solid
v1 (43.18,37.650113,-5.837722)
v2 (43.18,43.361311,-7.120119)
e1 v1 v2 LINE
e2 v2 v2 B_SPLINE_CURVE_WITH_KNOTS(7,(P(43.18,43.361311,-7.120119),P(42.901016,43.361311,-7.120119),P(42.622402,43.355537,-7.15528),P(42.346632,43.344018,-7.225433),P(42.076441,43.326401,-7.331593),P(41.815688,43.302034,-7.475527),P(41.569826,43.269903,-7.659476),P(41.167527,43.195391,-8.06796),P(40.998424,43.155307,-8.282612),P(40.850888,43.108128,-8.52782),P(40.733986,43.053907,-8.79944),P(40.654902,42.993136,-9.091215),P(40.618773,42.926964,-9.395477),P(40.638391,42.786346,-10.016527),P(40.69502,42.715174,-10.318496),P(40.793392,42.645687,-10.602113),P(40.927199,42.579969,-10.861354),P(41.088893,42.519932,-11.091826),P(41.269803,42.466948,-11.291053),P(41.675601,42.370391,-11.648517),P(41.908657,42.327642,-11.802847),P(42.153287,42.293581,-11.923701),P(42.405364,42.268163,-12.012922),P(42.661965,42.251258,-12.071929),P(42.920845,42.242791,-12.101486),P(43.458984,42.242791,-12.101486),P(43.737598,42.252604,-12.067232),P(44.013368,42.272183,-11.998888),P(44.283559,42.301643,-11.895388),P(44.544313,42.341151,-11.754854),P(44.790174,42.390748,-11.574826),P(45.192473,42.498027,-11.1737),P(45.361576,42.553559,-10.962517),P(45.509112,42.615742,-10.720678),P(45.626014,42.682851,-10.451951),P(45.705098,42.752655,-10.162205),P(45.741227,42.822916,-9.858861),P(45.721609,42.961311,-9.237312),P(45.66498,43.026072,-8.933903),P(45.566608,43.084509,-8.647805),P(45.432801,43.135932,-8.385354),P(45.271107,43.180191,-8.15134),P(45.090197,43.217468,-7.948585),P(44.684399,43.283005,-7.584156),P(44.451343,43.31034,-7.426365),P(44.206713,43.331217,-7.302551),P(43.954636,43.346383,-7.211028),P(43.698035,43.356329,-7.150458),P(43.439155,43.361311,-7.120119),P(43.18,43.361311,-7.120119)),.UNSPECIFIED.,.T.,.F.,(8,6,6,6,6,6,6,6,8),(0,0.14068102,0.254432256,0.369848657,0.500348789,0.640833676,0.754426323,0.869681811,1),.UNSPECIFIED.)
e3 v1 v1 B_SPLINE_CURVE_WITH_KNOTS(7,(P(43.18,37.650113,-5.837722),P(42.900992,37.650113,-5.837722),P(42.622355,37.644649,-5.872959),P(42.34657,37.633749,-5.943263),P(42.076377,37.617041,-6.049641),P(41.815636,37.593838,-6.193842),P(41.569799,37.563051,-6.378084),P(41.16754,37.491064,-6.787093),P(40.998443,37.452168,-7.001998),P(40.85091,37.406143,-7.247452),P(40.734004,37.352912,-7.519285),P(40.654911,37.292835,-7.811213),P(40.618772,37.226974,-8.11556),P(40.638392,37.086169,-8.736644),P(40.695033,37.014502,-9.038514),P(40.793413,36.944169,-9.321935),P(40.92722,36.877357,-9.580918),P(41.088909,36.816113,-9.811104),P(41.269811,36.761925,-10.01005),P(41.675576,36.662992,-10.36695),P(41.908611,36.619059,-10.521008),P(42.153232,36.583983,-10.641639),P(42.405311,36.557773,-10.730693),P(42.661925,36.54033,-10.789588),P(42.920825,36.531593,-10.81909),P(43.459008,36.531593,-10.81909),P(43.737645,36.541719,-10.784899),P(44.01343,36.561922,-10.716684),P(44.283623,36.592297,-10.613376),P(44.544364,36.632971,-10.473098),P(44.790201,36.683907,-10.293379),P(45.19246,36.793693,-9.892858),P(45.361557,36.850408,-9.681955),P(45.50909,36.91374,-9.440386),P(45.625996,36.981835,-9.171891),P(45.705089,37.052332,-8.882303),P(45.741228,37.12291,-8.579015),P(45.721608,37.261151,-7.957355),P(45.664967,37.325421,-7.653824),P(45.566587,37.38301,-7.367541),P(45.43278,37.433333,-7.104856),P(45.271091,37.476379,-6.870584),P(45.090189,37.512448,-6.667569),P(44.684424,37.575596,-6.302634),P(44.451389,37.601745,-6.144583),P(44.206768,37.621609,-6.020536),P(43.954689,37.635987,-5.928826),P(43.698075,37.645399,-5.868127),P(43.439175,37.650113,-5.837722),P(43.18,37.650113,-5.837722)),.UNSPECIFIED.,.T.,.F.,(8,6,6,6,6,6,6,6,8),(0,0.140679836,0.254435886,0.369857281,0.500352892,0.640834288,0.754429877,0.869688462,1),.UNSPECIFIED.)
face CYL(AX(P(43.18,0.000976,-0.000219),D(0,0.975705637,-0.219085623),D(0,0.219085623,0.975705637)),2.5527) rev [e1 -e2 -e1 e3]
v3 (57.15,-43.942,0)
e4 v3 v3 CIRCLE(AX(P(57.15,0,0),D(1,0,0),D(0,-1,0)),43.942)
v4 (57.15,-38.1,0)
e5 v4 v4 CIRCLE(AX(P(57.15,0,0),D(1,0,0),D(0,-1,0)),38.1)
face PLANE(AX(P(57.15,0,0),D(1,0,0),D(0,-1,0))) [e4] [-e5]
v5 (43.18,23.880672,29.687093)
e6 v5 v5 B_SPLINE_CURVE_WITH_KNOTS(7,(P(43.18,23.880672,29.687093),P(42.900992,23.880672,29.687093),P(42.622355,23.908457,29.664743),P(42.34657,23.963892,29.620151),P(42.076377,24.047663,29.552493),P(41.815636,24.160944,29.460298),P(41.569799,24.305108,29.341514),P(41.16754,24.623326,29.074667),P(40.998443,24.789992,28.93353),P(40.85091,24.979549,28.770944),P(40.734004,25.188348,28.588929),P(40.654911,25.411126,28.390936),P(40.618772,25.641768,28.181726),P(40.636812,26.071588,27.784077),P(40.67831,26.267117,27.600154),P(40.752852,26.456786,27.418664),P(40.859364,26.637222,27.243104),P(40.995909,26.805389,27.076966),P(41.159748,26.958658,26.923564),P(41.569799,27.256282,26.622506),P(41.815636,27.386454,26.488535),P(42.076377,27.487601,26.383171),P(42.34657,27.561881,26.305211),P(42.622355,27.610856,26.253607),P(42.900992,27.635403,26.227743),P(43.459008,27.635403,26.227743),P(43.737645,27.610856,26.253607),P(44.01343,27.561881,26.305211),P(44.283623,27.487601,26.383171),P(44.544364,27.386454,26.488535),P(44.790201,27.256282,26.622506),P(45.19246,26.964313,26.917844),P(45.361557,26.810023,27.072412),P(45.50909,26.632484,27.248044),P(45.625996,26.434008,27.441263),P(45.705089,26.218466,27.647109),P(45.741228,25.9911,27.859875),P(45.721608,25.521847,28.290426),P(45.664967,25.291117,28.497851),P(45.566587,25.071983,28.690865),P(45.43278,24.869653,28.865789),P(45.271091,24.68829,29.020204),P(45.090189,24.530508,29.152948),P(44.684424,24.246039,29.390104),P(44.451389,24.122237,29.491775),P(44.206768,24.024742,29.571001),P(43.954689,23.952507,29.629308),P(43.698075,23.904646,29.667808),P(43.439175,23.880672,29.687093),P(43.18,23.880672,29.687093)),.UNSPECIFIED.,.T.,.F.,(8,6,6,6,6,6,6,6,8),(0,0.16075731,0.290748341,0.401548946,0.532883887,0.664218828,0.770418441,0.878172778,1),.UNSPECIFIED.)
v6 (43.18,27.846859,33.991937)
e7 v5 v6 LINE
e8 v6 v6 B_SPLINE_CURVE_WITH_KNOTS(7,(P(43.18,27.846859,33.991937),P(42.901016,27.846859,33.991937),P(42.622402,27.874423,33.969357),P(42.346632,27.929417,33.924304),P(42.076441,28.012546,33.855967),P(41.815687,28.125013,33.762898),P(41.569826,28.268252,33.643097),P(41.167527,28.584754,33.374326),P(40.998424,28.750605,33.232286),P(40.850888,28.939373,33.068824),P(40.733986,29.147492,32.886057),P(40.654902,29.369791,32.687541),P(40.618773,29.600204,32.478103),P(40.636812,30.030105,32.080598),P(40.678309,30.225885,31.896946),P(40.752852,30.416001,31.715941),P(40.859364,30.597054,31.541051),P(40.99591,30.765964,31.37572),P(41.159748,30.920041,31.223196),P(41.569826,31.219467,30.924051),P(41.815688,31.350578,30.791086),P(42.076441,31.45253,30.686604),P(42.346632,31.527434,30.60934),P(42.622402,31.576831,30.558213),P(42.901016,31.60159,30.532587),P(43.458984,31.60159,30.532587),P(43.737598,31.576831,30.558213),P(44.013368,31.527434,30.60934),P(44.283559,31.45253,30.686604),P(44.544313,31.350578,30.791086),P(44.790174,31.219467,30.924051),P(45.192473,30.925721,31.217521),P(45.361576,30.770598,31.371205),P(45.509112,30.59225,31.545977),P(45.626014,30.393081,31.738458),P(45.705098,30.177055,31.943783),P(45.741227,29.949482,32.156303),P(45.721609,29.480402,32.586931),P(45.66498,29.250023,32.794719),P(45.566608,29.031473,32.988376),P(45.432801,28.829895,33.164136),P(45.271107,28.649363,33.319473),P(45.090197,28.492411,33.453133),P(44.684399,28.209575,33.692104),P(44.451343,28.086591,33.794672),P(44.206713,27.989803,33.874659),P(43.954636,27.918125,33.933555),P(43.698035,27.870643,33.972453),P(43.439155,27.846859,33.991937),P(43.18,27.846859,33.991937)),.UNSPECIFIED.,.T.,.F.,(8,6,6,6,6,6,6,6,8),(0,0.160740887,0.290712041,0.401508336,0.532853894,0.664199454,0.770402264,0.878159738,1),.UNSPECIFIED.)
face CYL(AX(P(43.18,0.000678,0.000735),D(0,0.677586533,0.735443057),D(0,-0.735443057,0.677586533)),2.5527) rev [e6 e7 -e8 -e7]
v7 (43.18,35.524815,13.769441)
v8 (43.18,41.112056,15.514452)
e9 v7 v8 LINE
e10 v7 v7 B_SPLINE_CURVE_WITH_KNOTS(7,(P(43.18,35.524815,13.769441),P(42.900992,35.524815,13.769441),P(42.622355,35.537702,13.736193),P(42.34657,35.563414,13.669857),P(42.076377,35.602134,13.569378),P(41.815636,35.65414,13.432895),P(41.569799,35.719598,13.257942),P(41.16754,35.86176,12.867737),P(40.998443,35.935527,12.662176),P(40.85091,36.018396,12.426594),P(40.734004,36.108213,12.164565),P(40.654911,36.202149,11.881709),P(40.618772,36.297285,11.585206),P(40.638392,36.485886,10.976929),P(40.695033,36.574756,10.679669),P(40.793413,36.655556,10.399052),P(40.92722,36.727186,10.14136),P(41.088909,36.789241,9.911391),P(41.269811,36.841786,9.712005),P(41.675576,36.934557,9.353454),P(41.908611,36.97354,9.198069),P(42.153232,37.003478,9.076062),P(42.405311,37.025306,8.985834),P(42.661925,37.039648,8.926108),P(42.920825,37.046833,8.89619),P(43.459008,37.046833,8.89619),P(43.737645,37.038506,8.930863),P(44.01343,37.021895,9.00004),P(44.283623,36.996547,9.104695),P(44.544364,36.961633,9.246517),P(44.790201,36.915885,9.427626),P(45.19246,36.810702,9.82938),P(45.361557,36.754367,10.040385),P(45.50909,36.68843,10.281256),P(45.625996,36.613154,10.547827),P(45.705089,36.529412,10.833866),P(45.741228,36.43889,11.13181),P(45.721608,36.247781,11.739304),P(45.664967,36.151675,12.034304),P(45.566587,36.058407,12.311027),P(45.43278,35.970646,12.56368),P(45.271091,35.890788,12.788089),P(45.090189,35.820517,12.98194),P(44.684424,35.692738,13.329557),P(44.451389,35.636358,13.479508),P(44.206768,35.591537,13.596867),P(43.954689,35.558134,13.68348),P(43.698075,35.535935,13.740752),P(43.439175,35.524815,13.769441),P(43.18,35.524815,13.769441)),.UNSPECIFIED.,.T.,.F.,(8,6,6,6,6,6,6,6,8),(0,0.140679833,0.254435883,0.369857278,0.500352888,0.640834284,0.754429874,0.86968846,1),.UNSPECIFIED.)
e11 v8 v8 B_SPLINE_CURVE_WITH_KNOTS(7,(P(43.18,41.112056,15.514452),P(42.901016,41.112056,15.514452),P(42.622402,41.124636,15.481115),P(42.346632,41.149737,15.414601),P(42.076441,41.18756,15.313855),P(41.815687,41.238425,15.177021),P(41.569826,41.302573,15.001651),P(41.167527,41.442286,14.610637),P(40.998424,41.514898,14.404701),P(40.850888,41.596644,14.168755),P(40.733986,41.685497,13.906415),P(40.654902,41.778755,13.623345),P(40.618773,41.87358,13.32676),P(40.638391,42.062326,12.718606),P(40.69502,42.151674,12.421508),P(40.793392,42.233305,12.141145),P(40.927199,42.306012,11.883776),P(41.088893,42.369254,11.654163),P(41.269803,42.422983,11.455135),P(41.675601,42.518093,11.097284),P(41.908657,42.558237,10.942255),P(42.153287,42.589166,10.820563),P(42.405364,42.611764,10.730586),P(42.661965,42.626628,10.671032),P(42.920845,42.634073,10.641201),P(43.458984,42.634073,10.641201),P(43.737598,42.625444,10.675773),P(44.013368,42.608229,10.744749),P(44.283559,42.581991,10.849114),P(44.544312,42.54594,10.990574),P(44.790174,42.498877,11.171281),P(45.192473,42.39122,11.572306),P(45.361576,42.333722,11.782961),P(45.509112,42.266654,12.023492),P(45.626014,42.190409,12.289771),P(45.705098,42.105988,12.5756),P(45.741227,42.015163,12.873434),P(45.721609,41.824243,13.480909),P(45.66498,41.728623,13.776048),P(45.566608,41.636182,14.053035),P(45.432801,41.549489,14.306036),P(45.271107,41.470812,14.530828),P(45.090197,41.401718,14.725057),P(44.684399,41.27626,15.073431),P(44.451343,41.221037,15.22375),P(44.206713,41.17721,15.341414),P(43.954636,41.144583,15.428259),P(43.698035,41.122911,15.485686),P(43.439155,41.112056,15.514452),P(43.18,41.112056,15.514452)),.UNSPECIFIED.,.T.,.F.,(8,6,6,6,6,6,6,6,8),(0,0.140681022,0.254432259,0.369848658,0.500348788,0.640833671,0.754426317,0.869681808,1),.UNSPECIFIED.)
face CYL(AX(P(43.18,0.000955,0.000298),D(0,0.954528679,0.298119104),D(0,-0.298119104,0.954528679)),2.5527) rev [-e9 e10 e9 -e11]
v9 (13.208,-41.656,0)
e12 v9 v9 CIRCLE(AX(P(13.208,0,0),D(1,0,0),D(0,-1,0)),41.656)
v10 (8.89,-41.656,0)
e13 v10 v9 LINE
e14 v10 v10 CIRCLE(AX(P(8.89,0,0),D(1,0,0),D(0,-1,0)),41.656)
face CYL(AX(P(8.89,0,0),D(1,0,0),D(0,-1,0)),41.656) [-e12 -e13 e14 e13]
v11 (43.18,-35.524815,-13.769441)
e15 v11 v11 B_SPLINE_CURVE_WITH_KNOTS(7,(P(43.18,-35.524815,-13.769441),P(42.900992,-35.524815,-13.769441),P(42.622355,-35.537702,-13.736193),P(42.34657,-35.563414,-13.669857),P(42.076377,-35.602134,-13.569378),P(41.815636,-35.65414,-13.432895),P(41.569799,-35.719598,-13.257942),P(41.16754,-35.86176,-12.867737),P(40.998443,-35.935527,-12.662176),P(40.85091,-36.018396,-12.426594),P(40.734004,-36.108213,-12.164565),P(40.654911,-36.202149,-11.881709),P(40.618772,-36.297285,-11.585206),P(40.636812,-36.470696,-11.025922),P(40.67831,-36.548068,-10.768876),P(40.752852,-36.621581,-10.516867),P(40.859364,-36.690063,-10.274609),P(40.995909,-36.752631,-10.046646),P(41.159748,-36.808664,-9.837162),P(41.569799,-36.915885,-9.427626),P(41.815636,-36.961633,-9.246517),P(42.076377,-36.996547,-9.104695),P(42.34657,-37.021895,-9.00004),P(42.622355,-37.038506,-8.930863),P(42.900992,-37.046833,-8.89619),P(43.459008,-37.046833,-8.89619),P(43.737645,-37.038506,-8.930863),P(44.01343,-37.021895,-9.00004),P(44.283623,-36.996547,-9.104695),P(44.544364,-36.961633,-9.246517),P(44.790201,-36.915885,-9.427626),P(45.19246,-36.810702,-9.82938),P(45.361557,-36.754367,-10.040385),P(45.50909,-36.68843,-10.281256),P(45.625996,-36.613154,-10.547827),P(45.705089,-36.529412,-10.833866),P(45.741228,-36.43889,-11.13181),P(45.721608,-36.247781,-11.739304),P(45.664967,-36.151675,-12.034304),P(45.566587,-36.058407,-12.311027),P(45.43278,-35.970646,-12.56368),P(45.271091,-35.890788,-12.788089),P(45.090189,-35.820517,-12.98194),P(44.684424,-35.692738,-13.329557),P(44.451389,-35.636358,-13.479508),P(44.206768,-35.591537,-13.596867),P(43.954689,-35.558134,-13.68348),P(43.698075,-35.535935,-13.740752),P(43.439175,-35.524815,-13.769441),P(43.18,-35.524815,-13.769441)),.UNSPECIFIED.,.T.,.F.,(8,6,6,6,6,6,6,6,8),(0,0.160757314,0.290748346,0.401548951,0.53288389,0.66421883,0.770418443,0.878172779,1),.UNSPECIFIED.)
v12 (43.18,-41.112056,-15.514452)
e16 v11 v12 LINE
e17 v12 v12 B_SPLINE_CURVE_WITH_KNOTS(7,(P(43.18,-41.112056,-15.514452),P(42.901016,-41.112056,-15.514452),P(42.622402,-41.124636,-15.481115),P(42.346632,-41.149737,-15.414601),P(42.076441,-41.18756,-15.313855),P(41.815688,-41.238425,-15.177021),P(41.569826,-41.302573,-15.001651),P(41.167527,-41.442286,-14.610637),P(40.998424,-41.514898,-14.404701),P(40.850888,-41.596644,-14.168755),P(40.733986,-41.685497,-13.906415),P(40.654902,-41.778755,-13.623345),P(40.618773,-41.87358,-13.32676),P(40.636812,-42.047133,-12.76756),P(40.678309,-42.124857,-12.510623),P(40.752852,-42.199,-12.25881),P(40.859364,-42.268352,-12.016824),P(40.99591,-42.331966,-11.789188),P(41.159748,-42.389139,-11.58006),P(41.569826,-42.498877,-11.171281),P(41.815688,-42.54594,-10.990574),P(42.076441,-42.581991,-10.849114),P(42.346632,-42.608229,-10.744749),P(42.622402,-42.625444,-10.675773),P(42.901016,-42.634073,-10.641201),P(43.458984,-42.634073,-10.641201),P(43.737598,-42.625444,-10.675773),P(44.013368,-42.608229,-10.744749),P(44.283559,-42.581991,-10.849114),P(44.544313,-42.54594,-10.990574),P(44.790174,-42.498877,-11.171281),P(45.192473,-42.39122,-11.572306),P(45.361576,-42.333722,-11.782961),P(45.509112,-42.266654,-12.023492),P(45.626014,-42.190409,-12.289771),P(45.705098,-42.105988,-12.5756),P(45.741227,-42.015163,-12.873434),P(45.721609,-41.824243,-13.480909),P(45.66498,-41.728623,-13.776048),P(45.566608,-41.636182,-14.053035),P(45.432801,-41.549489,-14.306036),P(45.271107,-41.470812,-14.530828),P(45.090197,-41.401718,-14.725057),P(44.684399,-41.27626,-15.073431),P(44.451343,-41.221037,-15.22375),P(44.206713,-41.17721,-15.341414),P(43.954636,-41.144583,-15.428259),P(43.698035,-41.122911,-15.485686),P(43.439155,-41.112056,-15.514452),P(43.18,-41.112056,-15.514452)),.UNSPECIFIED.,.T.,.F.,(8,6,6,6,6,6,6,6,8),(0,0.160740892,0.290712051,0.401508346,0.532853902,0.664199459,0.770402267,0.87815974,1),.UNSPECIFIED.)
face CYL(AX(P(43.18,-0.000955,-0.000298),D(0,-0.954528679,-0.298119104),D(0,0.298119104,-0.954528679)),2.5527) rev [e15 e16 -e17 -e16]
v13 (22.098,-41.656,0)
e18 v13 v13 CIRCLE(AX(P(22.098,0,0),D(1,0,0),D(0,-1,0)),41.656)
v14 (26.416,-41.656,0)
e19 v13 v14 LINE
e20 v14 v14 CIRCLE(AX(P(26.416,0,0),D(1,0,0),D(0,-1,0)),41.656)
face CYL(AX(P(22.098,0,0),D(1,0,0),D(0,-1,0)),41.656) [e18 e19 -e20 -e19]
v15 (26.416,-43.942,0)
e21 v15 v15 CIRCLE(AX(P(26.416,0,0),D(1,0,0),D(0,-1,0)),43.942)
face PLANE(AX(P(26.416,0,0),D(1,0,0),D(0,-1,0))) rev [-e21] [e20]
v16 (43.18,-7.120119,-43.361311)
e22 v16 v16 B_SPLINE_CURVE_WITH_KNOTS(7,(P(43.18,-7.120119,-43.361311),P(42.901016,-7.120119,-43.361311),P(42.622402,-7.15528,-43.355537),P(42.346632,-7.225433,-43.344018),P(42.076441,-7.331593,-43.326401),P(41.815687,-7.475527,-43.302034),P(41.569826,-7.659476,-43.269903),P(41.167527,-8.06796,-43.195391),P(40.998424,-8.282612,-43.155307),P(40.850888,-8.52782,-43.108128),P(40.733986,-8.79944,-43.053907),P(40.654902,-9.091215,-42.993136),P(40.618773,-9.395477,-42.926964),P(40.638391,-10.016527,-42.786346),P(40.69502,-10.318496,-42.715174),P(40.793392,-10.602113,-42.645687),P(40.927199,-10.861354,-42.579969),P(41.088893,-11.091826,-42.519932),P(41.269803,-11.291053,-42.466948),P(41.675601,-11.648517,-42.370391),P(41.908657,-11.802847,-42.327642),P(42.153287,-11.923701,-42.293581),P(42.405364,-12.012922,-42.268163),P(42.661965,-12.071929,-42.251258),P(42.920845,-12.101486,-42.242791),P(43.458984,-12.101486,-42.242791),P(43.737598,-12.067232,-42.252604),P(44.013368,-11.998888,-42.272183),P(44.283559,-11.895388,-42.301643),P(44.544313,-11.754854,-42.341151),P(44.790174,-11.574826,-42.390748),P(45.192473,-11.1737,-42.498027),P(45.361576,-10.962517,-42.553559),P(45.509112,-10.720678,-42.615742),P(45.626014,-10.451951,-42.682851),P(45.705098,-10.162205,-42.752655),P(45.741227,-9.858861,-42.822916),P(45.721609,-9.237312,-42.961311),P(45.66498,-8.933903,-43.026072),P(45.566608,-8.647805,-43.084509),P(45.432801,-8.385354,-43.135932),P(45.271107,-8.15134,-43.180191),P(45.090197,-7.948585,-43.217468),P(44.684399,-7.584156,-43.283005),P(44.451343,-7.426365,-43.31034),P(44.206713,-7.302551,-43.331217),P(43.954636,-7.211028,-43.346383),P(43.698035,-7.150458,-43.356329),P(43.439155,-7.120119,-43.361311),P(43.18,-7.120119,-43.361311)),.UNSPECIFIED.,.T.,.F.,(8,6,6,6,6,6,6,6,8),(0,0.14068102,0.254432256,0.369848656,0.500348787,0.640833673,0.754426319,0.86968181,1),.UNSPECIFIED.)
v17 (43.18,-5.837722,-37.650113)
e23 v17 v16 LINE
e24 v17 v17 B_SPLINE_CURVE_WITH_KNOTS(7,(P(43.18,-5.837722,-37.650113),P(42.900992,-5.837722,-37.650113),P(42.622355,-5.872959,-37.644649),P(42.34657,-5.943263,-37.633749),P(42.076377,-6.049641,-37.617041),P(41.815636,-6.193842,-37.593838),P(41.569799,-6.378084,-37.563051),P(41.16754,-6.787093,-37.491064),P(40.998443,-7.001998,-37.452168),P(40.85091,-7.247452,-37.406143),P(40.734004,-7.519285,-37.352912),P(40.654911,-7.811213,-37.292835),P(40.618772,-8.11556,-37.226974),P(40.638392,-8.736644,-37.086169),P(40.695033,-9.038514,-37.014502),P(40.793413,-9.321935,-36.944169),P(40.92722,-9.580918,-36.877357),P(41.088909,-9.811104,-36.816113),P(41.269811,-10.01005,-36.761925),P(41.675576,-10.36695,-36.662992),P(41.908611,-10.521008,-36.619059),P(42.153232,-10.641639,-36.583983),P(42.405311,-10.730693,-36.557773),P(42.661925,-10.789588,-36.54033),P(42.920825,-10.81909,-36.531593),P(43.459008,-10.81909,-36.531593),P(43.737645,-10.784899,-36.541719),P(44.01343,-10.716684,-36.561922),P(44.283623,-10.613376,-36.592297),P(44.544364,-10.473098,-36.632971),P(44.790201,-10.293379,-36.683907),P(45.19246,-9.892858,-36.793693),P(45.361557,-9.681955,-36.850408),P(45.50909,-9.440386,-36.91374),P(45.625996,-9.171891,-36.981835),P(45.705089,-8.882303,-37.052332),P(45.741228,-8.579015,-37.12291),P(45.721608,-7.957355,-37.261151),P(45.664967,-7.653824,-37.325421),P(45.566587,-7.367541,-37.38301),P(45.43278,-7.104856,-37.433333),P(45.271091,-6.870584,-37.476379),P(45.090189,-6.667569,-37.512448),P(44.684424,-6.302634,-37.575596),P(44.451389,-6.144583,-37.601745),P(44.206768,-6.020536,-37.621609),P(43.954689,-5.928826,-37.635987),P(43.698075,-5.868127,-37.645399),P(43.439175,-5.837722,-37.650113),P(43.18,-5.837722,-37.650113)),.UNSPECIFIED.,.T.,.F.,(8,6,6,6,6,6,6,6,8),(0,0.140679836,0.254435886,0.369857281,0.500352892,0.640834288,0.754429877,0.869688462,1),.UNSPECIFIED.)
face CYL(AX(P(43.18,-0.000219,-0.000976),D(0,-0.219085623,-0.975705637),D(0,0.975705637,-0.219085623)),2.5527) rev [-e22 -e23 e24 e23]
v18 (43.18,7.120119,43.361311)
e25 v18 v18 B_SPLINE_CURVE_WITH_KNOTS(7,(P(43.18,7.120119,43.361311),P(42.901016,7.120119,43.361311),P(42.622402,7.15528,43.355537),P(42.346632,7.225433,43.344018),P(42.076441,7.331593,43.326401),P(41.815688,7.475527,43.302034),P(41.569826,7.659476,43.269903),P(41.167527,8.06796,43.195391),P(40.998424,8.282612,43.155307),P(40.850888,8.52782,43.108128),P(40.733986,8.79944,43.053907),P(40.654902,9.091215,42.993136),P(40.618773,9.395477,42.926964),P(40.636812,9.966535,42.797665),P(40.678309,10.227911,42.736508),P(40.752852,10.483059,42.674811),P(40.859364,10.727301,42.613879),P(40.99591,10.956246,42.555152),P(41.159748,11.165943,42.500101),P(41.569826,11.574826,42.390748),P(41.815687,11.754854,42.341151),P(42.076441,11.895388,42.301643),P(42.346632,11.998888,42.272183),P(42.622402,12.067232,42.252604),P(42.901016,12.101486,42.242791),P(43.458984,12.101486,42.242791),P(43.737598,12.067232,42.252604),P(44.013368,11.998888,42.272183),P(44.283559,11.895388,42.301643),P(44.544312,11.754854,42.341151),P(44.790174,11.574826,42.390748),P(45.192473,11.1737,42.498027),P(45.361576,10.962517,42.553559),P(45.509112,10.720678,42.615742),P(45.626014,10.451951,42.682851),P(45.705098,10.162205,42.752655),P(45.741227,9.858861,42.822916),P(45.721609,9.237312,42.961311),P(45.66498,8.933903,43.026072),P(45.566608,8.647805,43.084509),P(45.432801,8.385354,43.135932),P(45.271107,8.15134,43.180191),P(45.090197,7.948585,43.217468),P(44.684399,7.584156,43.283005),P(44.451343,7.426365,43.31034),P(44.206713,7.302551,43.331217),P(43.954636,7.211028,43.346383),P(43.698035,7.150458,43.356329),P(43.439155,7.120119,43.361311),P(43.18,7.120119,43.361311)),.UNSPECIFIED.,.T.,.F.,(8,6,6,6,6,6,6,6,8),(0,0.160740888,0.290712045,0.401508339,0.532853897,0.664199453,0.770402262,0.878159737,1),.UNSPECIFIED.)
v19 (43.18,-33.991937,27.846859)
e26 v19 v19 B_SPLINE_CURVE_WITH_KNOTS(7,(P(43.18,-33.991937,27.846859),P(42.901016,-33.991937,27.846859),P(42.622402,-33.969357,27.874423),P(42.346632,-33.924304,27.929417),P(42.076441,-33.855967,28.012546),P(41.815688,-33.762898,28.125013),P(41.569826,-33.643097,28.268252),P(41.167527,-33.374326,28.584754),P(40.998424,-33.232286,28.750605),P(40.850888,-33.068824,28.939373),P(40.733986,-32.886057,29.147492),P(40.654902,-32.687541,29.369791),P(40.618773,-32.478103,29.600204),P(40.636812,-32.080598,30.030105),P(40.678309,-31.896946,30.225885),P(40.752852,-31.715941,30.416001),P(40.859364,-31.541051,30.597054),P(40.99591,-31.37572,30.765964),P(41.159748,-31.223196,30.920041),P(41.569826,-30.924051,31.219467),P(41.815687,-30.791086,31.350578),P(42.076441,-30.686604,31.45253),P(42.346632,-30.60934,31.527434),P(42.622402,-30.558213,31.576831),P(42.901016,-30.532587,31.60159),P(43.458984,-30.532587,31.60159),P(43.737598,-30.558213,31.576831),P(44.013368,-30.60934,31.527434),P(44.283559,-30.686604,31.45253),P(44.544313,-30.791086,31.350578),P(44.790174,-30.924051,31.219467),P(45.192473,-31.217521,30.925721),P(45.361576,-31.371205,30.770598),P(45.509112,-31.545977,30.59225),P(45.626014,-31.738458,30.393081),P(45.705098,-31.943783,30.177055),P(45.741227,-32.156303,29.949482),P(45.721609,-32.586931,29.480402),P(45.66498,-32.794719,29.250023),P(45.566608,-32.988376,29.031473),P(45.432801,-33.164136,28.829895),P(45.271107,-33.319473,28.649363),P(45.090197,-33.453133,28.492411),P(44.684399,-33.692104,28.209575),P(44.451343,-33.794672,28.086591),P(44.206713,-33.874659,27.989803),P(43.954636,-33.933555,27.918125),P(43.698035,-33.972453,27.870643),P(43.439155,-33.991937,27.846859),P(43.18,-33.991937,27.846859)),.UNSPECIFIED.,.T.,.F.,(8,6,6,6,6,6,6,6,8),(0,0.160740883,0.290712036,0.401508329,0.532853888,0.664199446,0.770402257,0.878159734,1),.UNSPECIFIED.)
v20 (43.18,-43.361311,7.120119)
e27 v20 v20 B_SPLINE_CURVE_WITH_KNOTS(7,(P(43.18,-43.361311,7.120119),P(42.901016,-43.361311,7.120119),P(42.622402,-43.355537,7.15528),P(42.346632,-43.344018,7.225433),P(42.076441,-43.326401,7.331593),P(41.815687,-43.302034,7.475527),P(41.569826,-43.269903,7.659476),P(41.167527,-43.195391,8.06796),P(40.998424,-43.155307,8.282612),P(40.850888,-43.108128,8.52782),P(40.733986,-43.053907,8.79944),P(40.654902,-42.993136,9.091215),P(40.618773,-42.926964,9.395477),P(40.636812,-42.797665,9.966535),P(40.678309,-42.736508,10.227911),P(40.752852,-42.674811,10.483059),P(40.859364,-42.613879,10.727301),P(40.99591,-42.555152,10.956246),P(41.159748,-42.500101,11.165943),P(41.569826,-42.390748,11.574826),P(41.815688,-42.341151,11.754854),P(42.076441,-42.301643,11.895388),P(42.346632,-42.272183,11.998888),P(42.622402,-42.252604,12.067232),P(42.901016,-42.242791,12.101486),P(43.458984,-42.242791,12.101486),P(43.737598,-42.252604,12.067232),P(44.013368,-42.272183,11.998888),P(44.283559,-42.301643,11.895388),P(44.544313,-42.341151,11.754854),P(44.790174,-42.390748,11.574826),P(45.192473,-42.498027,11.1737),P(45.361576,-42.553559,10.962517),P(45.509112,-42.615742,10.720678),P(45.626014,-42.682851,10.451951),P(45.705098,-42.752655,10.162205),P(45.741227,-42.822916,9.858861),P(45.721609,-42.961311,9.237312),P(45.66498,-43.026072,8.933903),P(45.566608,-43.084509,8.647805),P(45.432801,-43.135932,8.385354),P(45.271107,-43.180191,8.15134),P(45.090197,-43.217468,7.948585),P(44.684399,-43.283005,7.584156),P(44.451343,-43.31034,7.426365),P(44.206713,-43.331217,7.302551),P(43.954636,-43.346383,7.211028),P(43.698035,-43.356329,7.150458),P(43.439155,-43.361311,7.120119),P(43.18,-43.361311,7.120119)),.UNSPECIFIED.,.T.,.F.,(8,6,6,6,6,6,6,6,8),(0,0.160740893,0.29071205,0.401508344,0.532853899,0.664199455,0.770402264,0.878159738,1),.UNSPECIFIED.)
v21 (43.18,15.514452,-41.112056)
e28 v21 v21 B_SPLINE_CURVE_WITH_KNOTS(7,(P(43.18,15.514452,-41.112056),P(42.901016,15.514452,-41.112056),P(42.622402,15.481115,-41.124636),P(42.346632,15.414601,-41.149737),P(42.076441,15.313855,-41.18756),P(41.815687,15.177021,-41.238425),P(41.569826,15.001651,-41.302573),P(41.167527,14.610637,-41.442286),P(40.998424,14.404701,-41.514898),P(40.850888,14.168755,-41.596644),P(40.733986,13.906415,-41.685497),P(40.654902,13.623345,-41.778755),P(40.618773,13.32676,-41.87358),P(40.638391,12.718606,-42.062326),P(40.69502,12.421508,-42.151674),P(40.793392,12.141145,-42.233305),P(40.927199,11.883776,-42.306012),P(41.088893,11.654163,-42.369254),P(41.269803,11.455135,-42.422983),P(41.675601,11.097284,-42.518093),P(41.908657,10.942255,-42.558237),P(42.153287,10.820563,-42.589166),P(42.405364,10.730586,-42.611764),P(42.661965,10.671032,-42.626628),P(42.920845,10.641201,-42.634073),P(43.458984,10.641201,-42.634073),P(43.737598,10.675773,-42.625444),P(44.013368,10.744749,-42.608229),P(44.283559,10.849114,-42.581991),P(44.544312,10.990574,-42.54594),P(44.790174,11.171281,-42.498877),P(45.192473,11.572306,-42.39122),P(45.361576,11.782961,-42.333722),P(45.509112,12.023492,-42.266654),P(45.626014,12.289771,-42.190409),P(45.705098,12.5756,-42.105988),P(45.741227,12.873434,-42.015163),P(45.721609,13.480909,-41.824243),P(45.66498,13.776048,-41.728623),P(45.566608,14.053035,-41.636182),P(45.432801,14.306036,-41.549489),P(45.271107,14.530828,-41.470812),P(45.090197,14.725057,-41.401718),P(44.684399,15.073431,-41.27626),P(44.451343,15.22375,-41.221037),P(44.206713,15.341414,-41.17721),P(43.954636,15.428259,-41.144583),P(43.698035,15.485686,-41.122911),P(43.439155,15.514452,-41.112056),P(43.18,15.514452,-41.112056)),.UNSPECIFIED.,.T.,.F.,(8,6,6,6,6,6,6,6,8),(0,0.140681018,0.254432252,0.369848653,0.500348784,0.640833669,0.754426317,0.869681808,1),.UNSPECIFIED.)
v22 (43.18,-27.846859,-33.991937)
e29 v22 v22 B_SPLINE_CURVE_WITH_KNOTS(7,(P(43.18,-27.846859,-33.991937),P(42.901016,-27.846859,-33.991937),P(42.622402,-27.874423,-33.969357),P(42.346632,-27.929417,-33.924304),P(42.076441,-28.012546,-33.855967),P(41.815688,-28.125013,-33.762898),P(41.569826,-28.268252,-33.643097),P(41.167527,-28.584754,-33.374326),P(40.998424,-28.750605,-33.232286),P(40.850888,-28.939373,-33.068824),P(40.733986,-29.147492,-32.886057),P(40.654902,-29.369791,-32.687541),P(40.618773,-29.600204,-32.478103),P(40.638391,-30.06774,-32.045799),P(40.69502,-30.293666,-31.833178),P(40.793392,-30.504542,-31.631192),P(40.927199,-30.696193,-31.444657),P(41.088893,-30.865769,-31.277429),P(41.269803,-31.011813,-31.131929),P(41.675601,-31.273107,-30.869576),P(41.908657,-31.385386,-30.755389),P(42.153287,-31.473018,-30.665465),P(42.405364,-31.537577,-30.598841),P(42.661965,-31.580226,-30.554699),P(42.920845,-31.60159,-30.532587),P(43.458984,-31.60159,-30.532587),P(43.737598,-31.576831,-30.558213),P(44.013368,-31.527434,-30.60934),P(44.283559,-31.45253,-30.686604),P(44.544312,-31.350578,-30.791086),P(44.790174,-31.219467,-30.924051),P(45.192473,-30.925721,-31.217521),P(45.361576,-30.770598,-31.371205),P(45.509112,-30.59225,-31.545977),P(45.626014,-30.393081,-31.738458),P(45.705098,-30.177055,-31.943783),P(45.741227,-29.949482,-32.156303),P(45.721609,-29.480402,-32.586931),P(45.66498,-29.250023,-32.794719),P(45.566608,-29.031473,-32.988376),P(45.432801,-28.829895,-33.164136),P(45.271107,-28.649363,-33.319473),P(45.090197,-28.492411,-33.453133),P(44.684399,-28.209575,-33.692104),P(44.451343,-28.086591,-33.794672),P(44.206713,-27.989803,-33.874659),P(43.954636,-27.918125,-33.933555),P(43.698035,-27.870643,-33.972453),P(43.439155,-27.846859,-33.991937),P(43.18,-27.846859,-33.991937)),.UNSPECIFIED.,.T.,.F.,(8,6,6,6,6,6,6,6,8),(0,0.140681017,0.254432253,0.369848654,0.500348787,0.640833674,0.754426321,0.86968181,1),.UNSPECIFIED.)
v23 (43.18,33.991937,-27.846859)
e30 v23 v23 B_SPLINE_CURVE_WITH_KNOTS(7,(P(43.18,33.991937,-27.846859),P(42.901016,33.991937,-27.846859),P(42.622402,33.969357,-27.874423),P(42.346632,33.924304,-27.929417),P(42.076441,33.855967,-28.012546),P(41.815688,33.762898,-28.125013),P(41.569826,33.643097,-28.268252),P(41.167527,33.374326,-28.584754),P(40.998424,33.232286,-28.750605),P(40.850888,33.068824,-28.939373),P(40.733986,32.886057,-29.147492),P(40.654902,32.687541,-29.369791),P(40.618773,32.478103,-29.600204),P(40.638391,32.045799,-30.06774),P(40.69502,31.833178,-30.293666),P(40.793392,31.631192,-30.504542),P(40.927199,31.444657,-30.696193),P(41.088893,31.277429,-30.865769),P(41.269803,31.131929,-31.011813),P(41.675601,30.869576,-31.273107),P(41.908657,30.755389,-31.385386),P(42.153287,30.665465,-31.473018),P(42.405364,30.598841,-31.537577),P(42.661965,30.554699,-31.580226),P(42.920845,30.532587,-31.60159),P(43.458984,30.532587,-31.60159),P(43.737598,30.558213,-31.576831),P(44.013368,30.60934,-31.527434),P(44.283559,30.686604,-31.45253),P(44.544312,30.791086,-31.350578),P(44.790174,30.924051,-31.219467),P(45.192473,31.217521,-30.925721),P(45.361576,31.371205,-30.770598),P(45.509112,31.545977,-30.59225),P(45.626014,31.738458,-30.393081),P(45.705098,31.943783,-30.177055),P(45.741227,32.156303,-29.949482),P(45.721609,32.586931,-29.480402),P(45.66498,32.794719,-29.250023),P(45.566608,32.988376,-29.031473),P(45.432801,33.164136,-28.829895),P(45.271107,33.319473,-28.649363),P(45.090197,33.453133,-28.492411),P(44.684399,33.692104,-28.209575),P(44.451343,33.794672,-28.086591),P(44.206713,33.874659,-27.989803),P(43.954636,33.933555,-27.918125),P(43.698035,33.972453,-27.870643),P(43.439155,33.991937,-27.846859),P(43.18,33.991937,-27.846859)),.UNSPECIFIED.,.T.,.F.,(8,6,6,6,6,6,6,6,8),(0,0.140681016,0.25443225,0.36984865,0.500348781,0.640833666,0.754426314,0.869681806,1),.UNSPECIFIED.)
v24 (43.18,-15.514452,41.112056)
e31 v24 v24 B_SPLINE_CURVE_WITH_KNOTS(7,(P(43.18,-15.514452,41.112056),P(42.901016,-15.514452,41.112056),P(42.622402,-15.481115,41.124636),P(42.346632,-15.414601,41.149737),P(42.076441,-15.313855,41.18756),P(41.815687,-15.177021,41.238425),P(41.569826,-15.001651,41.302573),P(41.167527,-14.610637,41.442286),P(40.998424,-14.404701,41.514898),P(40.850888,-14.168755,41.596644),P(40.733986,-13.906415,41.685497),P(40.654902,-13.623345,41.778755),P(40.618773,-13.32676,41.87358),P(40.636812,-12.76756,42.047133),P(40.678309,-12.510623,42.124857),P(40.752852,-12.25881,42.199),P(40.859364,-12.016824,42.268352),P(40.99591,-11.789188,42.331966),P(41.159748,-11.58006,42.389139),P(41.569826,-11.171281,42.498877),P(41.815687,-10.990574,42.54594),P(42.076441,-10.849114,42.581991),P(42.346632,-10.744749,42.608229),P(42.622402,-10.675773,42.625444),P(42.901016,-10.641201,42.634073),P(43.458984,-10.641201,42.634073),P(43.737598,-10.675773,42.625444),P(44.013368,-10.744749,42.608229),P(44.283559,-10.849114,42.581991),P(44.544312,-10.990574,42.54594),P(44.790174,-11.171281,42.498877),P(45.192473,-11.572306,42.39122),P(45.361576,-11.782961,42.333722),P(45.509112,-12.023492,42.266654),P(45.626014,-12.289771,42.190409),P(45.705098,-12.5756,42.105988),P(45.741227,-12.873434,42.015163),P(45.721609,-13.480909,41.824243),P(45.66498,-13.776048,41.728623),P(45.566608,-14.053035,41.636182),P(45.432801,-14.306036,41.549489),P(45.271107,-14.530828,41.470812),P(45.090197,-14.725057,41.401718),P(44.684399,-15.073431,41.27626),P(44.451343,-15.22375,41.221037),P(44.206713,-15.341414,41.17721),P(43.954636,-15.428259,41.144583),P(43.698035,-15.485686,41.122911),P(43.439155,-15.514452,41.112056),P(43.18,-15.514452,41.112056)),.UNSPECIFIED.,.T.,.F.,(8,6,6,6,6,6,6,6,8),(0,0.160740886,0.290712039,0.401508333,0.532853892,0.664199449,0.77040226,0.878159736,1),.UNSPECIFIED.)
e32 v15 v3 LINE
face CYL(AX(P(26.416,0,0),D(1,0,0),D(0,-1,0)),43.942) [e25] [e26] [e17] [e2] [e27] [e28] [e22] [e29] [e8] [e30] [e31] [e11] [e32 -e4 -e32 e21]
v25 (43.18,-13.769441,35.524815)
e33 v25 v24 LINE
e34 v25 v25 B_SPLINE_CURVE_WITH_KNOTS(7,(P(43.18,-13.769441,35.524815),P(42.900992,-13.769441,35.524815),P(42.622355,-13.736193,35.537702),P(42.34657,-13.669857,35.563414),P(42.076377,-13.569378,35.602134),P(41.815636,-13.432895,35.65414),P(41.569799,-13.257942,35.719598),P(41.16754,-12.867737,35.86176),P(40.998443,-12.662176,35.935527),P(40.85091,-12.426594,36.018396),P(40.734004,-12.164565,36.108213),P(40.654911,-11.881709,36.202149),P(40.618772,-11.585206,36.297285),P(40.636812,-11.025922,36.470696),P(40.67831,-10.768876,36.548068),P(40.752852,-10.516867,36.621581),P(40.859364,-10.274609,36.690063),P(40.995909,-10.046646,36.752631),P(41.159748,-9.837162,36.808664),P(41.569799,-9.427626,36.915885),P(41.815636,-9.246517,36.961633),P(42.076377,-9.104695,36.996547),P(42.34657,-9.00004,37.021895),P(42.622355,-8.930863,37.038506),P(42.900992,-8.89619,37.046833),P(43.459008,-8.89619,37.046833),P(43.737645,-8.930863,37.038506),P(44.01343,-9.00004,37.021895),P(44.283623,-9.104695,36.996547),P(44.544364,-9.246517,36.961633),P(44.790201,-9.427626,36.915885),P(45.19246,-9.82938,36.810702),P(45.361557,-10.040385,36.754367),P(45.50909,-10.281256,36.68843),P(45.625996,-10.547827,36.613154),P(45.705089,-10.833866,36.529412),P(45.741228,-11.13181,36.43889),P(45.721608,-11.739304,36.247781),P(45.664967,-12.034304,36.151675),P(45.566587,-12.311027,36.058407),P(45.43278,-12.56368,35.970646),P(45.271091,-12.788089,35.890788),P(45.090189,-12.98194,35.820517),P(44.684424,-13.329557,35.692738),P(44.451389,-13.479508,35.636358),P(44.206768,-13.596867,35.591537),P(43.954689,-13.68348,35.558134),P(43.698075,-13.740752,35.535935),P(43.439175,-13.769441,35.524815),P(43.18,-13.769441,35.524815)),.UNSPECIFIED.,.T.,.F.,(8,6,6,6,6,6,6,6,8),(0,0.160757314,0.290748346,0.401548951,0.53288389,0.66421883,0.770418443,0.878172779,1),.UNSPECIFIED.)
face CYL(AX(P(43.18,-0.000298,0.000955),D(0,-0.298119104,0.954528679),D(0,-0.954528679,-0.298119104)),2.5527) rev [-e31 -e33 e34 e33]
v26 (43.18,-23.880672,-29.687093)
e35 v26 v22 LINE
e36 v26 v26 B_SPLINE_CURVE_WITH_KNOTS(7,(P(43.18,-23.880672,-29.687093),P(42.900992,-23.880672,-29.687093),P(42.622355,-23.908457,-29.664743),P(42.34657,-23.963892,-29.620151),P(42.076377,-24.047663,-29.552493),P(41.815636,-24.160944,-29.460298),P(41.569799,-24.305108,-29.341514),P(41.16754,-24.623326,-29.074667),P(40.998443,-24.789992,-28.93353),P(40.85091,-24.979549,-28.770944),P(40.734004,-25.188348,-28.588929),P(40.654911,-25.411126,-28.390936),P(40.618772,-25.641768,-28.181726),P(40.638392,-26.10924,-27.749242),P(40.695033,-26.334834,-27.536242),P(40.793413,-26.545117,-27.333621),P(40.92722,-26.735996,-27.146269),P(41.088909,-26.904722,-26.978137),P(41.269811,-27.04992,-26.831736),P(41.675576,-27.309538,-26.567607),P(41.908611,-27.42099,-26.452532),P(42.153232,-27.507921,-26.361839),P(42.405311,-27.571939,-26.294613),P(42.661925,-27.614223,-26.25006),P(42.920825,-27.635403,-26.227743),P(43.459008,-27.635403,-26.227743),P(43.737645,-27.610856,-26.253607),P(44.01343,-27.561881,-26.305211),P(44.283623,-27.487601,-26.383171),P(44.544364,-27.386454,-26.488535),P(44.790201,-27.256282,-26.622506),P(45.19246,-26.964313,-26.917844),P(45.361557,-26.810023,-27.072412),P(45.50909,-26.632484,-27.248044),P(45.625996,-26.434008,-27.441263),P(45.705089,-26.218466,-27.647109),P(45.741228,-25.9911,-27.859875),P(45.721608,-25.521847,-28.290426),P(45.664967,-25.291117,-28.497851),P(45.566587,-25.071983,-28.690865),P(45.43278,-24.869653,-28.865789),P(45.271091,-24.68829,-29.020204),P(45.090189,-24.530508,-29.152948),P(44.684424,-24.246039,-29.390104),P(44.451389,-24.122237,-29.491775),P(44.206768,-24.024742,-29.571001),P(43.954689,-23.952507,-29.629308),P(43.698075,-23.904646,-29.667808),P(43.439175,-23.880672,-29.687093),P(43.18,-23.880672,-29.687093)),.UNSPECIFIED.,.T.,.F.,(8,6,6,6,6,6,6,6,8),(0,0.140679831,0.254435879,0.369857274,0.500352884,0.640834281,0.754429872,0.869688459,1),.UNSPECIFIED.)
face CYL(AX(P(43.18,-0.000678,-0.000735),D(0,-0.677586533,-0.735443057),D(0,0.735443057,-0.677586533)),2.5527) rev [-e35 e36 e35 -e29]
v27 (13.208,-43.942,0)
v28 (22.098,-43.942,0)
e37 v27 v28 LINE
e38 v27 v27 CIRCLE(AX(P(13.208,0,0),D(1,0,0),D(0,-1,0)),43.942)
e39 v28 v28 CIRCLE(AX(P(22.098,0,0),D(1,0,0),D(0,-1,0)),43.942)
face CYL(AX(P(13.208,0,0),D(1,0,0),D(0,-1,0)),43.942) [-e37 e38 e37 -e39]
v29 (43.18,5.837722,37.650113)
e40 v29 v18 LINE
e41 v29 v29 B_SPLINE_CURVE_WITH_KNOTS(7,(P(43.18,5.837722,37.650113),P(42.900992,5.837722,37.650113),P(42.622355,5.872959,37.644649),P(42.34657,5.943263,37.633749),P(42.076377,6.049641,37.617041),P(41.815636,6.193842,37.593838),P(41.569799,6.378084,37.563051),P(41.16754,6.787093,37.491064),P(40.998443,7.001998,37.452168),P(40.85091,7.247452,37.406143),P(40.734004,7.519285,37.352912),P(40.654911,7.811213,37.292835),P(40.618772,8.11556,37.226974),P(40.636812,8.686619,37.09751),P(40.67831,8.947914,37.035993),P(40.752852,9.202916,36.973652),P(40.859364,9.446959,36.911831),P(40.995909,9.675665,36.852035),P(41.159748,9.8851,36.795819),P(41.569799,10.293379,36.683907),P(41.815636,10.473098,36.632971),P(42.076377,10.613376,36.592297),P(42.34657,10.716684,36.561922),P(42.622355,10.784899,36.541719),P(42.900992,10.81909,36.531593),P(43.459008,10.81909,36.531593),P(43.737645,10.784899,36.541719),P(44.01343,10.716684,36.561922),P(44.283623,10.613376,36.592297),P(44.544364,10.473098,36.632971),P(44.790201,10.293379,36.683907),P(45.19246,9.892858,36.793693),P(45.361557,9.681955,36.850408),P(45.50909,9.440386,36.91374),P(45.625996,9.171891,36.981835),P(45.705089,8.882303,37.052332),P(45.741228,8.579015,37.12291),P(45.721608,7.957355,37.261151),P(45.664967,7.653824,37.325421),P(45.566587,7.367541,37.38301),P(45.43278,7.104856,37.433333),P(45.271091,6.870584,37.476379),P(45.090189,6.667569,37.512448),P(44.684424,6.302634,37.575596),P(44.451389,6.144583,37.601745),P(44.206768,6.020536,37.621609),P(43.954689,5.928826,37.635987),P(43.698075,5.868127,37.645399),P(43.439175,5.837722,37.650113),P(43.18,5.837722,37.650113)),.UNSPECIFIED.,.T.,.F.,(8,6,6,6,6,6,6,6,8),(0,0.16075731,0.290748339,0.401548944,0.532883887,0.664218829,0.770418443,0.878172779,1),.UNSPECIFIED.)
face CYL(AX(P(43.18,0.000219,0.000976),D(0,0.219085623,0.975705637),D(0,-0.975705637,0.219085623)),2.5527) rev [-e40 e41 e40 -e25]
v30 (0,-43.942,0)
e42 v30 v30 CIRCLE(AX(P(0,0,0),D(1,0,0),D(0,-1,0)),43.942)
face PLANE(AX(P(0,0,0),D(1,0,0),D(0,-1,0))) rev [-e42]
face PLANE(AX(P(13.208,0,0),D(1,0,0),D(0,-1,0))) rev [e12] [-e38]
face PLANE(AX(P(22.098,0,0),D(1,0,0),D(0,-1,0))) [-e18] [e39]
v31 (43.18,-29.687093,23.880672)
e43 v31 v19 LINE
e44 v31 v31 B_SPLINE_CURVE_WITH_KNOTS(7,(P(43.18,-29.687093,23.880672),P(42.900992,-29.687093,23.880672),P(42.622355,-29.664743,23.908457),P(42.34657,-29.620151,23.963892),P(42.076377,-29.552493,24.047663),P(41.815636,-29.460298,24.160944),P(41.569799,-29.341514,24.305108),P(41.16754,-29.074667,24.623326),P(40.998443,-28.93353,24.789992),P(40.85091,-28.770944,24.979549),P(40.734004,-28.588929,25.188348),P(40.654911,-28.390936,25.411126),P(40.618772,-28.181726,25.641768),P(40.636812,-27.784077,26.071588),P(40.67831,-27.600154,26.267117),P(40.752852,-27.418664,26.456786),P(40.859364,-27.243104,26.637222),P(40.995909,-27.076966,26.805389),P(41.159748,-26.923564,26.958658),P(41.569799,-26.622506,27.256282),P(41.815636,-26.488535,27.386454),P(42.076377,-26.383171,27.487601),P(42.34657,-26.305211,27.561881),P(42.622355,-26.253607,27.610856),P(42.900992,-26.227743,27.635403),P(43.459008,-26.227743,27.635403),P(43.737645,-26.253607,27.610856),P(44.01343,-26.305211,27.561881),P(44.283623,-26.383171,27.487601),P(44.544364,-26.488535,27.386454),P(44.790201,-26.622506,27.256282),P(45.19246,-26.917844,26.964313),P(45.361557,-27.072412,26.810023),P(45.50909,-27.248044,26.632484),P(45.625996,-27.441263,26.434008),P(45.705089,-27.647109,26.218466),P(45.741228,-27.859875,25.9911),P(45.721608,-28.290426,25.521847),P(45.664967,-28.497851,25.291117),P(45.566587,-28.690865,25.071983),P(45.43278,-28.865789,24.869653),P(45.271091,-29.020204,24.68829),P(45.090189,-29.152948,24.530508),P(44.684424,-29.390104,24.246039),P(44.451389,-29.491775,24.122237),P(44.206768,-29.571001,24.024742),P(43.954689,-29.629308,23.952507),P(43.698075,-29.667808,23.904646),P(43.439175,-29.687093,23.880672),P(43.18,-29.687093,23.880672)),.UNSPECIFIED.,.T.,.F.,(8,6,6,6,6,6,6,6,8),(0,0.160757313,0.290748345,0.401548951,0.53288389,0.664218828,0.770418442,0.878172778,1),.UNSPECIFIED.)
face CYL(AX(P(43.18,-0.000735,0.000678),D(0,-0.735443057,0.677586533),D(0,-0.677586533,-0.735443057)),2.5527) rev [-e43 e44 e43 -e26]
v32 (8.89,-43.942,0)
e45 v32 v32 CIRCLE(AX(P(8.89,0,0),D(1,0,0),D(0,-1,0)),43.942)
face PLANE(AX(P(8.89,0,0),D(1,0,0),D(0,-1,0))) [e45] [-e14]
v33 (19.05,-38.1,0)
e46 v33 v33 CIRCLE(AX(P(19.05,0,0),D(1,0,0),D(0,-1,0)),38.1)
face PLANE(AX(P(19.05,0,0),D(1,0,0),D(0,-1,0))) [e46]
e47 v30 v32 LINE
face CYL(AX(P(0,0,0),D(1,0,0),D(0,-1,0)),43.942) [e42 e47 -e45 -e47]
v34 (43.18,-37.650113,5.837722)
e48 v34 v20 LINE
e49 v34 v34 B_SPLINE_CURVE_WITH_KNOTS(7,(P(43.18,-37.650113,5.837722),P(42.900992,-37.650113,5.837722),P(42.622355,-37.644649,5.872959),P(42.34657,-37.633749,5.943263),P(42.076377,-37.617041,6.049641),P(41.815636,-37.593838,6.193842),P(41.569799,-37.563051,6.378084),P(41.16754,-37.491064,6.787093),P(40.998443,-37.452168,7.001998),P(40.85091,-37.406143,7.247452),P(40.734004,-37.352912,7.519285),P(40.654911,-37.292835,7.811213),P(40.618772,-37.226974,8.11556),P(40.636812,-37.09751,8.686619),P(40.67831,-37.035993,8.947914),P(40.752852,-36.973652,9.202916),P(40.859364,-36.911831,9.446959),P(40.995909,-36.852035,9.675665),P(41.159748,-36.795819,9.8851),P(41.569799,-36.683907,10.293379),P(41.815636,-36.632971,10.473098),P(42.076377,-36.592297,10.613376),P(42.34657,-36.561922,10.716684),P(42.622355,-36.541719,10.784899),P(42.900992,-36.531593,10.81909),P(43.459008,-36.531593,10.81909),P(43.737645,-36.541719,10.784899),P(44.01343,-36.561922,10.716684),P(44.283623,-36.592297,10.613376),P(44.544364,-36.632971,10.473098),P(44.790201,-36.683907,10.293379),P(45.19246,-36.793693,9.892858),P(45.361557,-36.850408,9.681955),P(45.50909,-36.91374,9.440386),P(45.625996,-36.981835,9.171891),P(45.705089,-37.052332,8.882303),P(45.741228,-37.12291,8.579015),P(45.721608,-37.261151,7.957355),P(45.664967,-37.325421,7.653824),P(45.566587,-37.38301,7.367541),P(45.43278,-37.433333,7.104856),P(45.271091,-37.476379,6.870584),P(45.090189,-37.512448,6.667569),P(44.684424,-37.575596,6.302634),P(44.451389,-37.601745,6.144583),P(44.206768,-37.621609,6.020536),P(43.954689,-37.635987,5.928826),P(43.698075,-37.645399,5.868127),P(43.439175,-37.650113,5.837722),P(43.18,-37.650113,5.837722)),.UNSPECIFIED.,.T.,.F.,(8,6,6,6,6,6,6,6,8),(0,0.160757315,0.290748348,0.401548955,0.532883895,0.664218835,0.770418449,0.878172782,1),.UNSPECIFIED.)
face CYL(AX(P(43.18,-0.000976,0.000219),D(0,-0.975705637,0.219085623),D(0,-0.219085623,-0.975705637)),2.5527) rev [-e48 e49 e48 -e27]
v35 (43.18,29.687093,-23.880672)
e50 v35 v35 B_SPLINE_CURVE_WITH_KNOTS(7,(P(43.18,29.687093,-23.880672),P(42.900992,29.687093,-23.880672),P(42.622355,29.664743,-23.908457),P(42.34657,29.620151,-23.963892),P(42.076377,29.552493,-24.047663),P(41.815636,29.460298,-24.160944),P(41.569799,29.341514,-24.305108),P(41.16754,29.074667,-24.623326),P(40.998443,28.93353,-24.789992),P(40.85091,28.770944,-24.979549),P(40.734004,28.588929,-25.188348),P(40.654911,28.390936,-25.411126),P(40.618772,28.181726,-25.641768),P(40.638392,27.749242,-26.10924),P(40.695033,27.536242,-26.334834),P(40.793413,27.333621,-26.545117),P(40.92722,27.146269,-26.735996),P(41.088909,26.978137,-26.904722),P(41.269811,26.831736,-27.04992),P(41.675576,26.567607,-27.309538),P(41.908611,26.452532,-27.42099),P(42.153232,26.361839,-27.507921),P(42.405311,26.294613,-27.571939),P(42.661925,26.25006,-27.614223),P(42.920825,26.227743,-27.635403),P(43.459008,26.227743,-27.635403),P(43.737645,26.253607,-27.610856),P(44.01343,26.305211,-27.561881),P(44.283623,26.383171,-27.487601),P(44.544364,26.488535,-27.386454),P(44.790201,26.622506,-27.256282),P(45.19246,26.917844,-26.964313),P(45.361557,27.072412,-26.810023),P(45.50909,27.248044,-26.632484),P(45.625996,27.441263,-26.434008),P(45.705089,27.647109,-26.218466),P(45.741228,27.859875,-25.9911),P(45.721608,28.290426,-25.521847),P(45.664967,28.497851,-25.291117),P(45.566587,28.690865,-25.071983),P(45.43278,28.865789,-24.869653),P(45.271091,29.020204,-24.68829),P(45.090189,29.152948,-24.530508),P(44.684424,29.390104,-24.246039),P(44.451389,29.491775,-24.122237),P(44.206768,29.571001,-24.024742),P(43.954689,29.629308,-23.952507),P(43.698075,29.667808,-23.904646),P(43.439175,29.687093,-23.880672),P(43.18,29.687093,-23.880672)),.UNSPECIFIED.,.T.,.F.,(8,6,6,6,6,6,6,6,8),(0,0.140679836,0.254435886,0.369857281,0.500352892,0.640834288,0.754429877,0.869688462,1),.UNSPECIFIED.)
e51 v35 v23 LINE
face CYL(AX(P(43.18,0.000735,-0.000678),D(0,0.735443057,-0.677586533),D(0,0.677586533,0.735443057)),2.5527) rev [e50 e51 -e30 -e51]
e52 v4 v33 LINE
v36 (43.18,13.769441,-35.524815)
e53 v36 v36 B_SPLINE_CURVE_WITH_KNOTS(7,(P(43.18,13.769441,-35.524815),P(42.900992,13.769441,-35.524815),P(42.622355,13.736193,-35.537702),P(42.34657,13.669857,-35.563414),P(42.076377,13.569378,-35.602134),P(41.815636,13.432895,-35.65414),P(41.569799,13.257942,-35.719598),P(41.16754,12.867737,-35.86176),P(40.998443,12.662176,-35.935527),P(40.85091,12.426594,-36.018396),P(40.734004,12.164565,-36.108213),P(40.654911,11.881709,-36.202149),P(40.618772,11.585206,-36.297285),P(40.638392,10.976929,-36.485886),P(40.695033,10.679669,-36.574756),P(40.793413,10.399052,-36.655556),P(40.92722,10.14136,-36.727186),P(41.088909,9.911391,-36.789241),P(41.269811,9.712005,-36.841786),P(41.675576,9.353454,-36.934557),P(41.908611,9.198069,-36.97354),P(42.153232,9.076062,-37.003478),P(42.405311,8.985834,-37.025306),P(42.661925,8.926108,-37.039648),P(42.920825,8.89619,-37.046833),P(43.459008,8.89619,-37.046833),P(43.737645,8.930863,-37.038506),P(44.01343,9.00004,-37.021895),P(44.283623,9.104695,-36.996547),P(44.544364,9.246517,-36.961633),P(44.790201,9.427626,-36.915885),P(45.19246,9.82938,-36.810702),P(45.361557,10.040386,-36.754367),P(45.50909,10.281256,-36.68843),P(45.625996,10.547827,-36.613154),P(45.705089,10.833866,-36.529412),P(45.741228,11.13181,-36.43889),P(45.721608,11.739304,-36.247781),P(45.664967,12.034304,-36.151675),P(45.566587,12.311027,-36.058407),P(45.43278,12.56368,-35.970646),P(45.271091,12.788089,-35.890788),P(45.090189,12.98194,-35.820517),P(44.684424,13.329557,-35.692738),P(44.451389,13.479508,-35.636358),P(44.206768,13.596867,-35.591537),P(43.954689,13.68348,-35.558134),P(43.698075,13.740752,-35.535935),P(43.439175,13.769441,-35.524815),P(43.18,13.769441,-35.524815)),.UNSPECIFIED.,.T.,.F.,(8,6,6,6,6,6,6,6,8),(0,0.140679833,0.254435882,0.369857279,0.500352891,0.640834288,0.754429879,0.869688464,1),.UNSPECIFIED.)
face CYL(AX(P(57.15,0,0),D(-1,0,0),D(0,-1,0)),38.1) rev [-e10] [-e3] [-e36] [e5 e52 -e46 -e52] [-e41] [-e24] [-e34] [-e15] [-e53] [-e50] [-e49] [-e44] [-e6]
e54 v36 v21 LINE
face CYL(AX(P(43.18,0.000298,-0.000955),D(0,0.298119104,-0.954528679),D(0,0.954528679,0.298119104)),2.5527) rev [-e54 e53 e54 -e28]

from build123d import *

# Parameters (mm, degrees)
CIRPATTERN1_COUNT = 12


with BuildPart() as part:
    # Sketch1 → Revolve1 (revolve)
    with BuildSketch(Plane.XY, mode=Mode.PRIVATE) as revolve1_sk:
        Polygon((13.208, 43.942), (22.098, 43.942), (22.098, 41.656), (26.416, 41.656), (26.416, 43.942), (57.15, 43.942), (57.15, 38.1), (19.05, 38.1), (19.05, 0), (0, 0), (0, 43.942), (8.89, 43.942), (8.89, 41.656), (13.208, 41.656), align=None)
    revolve(revolve1_sk.sketch.rotate(Axis((0, 0, 0), (1, 0, 0)), 180), axis=Axis((0, 0, 0), (1, 0, 0)))

    # Sketch2 → 1/4-20 Tapped Hole1 (revolve, cut)
    with BuildSketch(Plane(origin=(43.18, 41.943899234, 13.099949659), x_dir=(0, -0.29811910378753365, 0.9545286794837113), z_dir=(1, 0, 0))):
        Polygon((0, 0), (0, 45.474816902), (2.5527, 43.941), (2.5527, 0), align=None)
    f_1_4_20_tapped_hole1 = revolve(axis=Axis((43.18, 48.005156349, 14.993005968), (0, -0.9545286794837113, -0.29811910378753365)), mode=Mode.SUBTRACT)

    # CirPattern1: 1/4-20 Tapped Hole1 ×12 about axis
    cirpattern1_axis = Axis((57.15, 0, 0), (-1, 0, 0))
    for i in range(1, CIRPATTERN1_COUNT):
        add(f_1_4_20_tapped_hole1.rotate(cirpattern1_axis, i * 360 / CIRPATTERN1_COUNT), mode=Mode.SUBTRACT)


solid = part.part
